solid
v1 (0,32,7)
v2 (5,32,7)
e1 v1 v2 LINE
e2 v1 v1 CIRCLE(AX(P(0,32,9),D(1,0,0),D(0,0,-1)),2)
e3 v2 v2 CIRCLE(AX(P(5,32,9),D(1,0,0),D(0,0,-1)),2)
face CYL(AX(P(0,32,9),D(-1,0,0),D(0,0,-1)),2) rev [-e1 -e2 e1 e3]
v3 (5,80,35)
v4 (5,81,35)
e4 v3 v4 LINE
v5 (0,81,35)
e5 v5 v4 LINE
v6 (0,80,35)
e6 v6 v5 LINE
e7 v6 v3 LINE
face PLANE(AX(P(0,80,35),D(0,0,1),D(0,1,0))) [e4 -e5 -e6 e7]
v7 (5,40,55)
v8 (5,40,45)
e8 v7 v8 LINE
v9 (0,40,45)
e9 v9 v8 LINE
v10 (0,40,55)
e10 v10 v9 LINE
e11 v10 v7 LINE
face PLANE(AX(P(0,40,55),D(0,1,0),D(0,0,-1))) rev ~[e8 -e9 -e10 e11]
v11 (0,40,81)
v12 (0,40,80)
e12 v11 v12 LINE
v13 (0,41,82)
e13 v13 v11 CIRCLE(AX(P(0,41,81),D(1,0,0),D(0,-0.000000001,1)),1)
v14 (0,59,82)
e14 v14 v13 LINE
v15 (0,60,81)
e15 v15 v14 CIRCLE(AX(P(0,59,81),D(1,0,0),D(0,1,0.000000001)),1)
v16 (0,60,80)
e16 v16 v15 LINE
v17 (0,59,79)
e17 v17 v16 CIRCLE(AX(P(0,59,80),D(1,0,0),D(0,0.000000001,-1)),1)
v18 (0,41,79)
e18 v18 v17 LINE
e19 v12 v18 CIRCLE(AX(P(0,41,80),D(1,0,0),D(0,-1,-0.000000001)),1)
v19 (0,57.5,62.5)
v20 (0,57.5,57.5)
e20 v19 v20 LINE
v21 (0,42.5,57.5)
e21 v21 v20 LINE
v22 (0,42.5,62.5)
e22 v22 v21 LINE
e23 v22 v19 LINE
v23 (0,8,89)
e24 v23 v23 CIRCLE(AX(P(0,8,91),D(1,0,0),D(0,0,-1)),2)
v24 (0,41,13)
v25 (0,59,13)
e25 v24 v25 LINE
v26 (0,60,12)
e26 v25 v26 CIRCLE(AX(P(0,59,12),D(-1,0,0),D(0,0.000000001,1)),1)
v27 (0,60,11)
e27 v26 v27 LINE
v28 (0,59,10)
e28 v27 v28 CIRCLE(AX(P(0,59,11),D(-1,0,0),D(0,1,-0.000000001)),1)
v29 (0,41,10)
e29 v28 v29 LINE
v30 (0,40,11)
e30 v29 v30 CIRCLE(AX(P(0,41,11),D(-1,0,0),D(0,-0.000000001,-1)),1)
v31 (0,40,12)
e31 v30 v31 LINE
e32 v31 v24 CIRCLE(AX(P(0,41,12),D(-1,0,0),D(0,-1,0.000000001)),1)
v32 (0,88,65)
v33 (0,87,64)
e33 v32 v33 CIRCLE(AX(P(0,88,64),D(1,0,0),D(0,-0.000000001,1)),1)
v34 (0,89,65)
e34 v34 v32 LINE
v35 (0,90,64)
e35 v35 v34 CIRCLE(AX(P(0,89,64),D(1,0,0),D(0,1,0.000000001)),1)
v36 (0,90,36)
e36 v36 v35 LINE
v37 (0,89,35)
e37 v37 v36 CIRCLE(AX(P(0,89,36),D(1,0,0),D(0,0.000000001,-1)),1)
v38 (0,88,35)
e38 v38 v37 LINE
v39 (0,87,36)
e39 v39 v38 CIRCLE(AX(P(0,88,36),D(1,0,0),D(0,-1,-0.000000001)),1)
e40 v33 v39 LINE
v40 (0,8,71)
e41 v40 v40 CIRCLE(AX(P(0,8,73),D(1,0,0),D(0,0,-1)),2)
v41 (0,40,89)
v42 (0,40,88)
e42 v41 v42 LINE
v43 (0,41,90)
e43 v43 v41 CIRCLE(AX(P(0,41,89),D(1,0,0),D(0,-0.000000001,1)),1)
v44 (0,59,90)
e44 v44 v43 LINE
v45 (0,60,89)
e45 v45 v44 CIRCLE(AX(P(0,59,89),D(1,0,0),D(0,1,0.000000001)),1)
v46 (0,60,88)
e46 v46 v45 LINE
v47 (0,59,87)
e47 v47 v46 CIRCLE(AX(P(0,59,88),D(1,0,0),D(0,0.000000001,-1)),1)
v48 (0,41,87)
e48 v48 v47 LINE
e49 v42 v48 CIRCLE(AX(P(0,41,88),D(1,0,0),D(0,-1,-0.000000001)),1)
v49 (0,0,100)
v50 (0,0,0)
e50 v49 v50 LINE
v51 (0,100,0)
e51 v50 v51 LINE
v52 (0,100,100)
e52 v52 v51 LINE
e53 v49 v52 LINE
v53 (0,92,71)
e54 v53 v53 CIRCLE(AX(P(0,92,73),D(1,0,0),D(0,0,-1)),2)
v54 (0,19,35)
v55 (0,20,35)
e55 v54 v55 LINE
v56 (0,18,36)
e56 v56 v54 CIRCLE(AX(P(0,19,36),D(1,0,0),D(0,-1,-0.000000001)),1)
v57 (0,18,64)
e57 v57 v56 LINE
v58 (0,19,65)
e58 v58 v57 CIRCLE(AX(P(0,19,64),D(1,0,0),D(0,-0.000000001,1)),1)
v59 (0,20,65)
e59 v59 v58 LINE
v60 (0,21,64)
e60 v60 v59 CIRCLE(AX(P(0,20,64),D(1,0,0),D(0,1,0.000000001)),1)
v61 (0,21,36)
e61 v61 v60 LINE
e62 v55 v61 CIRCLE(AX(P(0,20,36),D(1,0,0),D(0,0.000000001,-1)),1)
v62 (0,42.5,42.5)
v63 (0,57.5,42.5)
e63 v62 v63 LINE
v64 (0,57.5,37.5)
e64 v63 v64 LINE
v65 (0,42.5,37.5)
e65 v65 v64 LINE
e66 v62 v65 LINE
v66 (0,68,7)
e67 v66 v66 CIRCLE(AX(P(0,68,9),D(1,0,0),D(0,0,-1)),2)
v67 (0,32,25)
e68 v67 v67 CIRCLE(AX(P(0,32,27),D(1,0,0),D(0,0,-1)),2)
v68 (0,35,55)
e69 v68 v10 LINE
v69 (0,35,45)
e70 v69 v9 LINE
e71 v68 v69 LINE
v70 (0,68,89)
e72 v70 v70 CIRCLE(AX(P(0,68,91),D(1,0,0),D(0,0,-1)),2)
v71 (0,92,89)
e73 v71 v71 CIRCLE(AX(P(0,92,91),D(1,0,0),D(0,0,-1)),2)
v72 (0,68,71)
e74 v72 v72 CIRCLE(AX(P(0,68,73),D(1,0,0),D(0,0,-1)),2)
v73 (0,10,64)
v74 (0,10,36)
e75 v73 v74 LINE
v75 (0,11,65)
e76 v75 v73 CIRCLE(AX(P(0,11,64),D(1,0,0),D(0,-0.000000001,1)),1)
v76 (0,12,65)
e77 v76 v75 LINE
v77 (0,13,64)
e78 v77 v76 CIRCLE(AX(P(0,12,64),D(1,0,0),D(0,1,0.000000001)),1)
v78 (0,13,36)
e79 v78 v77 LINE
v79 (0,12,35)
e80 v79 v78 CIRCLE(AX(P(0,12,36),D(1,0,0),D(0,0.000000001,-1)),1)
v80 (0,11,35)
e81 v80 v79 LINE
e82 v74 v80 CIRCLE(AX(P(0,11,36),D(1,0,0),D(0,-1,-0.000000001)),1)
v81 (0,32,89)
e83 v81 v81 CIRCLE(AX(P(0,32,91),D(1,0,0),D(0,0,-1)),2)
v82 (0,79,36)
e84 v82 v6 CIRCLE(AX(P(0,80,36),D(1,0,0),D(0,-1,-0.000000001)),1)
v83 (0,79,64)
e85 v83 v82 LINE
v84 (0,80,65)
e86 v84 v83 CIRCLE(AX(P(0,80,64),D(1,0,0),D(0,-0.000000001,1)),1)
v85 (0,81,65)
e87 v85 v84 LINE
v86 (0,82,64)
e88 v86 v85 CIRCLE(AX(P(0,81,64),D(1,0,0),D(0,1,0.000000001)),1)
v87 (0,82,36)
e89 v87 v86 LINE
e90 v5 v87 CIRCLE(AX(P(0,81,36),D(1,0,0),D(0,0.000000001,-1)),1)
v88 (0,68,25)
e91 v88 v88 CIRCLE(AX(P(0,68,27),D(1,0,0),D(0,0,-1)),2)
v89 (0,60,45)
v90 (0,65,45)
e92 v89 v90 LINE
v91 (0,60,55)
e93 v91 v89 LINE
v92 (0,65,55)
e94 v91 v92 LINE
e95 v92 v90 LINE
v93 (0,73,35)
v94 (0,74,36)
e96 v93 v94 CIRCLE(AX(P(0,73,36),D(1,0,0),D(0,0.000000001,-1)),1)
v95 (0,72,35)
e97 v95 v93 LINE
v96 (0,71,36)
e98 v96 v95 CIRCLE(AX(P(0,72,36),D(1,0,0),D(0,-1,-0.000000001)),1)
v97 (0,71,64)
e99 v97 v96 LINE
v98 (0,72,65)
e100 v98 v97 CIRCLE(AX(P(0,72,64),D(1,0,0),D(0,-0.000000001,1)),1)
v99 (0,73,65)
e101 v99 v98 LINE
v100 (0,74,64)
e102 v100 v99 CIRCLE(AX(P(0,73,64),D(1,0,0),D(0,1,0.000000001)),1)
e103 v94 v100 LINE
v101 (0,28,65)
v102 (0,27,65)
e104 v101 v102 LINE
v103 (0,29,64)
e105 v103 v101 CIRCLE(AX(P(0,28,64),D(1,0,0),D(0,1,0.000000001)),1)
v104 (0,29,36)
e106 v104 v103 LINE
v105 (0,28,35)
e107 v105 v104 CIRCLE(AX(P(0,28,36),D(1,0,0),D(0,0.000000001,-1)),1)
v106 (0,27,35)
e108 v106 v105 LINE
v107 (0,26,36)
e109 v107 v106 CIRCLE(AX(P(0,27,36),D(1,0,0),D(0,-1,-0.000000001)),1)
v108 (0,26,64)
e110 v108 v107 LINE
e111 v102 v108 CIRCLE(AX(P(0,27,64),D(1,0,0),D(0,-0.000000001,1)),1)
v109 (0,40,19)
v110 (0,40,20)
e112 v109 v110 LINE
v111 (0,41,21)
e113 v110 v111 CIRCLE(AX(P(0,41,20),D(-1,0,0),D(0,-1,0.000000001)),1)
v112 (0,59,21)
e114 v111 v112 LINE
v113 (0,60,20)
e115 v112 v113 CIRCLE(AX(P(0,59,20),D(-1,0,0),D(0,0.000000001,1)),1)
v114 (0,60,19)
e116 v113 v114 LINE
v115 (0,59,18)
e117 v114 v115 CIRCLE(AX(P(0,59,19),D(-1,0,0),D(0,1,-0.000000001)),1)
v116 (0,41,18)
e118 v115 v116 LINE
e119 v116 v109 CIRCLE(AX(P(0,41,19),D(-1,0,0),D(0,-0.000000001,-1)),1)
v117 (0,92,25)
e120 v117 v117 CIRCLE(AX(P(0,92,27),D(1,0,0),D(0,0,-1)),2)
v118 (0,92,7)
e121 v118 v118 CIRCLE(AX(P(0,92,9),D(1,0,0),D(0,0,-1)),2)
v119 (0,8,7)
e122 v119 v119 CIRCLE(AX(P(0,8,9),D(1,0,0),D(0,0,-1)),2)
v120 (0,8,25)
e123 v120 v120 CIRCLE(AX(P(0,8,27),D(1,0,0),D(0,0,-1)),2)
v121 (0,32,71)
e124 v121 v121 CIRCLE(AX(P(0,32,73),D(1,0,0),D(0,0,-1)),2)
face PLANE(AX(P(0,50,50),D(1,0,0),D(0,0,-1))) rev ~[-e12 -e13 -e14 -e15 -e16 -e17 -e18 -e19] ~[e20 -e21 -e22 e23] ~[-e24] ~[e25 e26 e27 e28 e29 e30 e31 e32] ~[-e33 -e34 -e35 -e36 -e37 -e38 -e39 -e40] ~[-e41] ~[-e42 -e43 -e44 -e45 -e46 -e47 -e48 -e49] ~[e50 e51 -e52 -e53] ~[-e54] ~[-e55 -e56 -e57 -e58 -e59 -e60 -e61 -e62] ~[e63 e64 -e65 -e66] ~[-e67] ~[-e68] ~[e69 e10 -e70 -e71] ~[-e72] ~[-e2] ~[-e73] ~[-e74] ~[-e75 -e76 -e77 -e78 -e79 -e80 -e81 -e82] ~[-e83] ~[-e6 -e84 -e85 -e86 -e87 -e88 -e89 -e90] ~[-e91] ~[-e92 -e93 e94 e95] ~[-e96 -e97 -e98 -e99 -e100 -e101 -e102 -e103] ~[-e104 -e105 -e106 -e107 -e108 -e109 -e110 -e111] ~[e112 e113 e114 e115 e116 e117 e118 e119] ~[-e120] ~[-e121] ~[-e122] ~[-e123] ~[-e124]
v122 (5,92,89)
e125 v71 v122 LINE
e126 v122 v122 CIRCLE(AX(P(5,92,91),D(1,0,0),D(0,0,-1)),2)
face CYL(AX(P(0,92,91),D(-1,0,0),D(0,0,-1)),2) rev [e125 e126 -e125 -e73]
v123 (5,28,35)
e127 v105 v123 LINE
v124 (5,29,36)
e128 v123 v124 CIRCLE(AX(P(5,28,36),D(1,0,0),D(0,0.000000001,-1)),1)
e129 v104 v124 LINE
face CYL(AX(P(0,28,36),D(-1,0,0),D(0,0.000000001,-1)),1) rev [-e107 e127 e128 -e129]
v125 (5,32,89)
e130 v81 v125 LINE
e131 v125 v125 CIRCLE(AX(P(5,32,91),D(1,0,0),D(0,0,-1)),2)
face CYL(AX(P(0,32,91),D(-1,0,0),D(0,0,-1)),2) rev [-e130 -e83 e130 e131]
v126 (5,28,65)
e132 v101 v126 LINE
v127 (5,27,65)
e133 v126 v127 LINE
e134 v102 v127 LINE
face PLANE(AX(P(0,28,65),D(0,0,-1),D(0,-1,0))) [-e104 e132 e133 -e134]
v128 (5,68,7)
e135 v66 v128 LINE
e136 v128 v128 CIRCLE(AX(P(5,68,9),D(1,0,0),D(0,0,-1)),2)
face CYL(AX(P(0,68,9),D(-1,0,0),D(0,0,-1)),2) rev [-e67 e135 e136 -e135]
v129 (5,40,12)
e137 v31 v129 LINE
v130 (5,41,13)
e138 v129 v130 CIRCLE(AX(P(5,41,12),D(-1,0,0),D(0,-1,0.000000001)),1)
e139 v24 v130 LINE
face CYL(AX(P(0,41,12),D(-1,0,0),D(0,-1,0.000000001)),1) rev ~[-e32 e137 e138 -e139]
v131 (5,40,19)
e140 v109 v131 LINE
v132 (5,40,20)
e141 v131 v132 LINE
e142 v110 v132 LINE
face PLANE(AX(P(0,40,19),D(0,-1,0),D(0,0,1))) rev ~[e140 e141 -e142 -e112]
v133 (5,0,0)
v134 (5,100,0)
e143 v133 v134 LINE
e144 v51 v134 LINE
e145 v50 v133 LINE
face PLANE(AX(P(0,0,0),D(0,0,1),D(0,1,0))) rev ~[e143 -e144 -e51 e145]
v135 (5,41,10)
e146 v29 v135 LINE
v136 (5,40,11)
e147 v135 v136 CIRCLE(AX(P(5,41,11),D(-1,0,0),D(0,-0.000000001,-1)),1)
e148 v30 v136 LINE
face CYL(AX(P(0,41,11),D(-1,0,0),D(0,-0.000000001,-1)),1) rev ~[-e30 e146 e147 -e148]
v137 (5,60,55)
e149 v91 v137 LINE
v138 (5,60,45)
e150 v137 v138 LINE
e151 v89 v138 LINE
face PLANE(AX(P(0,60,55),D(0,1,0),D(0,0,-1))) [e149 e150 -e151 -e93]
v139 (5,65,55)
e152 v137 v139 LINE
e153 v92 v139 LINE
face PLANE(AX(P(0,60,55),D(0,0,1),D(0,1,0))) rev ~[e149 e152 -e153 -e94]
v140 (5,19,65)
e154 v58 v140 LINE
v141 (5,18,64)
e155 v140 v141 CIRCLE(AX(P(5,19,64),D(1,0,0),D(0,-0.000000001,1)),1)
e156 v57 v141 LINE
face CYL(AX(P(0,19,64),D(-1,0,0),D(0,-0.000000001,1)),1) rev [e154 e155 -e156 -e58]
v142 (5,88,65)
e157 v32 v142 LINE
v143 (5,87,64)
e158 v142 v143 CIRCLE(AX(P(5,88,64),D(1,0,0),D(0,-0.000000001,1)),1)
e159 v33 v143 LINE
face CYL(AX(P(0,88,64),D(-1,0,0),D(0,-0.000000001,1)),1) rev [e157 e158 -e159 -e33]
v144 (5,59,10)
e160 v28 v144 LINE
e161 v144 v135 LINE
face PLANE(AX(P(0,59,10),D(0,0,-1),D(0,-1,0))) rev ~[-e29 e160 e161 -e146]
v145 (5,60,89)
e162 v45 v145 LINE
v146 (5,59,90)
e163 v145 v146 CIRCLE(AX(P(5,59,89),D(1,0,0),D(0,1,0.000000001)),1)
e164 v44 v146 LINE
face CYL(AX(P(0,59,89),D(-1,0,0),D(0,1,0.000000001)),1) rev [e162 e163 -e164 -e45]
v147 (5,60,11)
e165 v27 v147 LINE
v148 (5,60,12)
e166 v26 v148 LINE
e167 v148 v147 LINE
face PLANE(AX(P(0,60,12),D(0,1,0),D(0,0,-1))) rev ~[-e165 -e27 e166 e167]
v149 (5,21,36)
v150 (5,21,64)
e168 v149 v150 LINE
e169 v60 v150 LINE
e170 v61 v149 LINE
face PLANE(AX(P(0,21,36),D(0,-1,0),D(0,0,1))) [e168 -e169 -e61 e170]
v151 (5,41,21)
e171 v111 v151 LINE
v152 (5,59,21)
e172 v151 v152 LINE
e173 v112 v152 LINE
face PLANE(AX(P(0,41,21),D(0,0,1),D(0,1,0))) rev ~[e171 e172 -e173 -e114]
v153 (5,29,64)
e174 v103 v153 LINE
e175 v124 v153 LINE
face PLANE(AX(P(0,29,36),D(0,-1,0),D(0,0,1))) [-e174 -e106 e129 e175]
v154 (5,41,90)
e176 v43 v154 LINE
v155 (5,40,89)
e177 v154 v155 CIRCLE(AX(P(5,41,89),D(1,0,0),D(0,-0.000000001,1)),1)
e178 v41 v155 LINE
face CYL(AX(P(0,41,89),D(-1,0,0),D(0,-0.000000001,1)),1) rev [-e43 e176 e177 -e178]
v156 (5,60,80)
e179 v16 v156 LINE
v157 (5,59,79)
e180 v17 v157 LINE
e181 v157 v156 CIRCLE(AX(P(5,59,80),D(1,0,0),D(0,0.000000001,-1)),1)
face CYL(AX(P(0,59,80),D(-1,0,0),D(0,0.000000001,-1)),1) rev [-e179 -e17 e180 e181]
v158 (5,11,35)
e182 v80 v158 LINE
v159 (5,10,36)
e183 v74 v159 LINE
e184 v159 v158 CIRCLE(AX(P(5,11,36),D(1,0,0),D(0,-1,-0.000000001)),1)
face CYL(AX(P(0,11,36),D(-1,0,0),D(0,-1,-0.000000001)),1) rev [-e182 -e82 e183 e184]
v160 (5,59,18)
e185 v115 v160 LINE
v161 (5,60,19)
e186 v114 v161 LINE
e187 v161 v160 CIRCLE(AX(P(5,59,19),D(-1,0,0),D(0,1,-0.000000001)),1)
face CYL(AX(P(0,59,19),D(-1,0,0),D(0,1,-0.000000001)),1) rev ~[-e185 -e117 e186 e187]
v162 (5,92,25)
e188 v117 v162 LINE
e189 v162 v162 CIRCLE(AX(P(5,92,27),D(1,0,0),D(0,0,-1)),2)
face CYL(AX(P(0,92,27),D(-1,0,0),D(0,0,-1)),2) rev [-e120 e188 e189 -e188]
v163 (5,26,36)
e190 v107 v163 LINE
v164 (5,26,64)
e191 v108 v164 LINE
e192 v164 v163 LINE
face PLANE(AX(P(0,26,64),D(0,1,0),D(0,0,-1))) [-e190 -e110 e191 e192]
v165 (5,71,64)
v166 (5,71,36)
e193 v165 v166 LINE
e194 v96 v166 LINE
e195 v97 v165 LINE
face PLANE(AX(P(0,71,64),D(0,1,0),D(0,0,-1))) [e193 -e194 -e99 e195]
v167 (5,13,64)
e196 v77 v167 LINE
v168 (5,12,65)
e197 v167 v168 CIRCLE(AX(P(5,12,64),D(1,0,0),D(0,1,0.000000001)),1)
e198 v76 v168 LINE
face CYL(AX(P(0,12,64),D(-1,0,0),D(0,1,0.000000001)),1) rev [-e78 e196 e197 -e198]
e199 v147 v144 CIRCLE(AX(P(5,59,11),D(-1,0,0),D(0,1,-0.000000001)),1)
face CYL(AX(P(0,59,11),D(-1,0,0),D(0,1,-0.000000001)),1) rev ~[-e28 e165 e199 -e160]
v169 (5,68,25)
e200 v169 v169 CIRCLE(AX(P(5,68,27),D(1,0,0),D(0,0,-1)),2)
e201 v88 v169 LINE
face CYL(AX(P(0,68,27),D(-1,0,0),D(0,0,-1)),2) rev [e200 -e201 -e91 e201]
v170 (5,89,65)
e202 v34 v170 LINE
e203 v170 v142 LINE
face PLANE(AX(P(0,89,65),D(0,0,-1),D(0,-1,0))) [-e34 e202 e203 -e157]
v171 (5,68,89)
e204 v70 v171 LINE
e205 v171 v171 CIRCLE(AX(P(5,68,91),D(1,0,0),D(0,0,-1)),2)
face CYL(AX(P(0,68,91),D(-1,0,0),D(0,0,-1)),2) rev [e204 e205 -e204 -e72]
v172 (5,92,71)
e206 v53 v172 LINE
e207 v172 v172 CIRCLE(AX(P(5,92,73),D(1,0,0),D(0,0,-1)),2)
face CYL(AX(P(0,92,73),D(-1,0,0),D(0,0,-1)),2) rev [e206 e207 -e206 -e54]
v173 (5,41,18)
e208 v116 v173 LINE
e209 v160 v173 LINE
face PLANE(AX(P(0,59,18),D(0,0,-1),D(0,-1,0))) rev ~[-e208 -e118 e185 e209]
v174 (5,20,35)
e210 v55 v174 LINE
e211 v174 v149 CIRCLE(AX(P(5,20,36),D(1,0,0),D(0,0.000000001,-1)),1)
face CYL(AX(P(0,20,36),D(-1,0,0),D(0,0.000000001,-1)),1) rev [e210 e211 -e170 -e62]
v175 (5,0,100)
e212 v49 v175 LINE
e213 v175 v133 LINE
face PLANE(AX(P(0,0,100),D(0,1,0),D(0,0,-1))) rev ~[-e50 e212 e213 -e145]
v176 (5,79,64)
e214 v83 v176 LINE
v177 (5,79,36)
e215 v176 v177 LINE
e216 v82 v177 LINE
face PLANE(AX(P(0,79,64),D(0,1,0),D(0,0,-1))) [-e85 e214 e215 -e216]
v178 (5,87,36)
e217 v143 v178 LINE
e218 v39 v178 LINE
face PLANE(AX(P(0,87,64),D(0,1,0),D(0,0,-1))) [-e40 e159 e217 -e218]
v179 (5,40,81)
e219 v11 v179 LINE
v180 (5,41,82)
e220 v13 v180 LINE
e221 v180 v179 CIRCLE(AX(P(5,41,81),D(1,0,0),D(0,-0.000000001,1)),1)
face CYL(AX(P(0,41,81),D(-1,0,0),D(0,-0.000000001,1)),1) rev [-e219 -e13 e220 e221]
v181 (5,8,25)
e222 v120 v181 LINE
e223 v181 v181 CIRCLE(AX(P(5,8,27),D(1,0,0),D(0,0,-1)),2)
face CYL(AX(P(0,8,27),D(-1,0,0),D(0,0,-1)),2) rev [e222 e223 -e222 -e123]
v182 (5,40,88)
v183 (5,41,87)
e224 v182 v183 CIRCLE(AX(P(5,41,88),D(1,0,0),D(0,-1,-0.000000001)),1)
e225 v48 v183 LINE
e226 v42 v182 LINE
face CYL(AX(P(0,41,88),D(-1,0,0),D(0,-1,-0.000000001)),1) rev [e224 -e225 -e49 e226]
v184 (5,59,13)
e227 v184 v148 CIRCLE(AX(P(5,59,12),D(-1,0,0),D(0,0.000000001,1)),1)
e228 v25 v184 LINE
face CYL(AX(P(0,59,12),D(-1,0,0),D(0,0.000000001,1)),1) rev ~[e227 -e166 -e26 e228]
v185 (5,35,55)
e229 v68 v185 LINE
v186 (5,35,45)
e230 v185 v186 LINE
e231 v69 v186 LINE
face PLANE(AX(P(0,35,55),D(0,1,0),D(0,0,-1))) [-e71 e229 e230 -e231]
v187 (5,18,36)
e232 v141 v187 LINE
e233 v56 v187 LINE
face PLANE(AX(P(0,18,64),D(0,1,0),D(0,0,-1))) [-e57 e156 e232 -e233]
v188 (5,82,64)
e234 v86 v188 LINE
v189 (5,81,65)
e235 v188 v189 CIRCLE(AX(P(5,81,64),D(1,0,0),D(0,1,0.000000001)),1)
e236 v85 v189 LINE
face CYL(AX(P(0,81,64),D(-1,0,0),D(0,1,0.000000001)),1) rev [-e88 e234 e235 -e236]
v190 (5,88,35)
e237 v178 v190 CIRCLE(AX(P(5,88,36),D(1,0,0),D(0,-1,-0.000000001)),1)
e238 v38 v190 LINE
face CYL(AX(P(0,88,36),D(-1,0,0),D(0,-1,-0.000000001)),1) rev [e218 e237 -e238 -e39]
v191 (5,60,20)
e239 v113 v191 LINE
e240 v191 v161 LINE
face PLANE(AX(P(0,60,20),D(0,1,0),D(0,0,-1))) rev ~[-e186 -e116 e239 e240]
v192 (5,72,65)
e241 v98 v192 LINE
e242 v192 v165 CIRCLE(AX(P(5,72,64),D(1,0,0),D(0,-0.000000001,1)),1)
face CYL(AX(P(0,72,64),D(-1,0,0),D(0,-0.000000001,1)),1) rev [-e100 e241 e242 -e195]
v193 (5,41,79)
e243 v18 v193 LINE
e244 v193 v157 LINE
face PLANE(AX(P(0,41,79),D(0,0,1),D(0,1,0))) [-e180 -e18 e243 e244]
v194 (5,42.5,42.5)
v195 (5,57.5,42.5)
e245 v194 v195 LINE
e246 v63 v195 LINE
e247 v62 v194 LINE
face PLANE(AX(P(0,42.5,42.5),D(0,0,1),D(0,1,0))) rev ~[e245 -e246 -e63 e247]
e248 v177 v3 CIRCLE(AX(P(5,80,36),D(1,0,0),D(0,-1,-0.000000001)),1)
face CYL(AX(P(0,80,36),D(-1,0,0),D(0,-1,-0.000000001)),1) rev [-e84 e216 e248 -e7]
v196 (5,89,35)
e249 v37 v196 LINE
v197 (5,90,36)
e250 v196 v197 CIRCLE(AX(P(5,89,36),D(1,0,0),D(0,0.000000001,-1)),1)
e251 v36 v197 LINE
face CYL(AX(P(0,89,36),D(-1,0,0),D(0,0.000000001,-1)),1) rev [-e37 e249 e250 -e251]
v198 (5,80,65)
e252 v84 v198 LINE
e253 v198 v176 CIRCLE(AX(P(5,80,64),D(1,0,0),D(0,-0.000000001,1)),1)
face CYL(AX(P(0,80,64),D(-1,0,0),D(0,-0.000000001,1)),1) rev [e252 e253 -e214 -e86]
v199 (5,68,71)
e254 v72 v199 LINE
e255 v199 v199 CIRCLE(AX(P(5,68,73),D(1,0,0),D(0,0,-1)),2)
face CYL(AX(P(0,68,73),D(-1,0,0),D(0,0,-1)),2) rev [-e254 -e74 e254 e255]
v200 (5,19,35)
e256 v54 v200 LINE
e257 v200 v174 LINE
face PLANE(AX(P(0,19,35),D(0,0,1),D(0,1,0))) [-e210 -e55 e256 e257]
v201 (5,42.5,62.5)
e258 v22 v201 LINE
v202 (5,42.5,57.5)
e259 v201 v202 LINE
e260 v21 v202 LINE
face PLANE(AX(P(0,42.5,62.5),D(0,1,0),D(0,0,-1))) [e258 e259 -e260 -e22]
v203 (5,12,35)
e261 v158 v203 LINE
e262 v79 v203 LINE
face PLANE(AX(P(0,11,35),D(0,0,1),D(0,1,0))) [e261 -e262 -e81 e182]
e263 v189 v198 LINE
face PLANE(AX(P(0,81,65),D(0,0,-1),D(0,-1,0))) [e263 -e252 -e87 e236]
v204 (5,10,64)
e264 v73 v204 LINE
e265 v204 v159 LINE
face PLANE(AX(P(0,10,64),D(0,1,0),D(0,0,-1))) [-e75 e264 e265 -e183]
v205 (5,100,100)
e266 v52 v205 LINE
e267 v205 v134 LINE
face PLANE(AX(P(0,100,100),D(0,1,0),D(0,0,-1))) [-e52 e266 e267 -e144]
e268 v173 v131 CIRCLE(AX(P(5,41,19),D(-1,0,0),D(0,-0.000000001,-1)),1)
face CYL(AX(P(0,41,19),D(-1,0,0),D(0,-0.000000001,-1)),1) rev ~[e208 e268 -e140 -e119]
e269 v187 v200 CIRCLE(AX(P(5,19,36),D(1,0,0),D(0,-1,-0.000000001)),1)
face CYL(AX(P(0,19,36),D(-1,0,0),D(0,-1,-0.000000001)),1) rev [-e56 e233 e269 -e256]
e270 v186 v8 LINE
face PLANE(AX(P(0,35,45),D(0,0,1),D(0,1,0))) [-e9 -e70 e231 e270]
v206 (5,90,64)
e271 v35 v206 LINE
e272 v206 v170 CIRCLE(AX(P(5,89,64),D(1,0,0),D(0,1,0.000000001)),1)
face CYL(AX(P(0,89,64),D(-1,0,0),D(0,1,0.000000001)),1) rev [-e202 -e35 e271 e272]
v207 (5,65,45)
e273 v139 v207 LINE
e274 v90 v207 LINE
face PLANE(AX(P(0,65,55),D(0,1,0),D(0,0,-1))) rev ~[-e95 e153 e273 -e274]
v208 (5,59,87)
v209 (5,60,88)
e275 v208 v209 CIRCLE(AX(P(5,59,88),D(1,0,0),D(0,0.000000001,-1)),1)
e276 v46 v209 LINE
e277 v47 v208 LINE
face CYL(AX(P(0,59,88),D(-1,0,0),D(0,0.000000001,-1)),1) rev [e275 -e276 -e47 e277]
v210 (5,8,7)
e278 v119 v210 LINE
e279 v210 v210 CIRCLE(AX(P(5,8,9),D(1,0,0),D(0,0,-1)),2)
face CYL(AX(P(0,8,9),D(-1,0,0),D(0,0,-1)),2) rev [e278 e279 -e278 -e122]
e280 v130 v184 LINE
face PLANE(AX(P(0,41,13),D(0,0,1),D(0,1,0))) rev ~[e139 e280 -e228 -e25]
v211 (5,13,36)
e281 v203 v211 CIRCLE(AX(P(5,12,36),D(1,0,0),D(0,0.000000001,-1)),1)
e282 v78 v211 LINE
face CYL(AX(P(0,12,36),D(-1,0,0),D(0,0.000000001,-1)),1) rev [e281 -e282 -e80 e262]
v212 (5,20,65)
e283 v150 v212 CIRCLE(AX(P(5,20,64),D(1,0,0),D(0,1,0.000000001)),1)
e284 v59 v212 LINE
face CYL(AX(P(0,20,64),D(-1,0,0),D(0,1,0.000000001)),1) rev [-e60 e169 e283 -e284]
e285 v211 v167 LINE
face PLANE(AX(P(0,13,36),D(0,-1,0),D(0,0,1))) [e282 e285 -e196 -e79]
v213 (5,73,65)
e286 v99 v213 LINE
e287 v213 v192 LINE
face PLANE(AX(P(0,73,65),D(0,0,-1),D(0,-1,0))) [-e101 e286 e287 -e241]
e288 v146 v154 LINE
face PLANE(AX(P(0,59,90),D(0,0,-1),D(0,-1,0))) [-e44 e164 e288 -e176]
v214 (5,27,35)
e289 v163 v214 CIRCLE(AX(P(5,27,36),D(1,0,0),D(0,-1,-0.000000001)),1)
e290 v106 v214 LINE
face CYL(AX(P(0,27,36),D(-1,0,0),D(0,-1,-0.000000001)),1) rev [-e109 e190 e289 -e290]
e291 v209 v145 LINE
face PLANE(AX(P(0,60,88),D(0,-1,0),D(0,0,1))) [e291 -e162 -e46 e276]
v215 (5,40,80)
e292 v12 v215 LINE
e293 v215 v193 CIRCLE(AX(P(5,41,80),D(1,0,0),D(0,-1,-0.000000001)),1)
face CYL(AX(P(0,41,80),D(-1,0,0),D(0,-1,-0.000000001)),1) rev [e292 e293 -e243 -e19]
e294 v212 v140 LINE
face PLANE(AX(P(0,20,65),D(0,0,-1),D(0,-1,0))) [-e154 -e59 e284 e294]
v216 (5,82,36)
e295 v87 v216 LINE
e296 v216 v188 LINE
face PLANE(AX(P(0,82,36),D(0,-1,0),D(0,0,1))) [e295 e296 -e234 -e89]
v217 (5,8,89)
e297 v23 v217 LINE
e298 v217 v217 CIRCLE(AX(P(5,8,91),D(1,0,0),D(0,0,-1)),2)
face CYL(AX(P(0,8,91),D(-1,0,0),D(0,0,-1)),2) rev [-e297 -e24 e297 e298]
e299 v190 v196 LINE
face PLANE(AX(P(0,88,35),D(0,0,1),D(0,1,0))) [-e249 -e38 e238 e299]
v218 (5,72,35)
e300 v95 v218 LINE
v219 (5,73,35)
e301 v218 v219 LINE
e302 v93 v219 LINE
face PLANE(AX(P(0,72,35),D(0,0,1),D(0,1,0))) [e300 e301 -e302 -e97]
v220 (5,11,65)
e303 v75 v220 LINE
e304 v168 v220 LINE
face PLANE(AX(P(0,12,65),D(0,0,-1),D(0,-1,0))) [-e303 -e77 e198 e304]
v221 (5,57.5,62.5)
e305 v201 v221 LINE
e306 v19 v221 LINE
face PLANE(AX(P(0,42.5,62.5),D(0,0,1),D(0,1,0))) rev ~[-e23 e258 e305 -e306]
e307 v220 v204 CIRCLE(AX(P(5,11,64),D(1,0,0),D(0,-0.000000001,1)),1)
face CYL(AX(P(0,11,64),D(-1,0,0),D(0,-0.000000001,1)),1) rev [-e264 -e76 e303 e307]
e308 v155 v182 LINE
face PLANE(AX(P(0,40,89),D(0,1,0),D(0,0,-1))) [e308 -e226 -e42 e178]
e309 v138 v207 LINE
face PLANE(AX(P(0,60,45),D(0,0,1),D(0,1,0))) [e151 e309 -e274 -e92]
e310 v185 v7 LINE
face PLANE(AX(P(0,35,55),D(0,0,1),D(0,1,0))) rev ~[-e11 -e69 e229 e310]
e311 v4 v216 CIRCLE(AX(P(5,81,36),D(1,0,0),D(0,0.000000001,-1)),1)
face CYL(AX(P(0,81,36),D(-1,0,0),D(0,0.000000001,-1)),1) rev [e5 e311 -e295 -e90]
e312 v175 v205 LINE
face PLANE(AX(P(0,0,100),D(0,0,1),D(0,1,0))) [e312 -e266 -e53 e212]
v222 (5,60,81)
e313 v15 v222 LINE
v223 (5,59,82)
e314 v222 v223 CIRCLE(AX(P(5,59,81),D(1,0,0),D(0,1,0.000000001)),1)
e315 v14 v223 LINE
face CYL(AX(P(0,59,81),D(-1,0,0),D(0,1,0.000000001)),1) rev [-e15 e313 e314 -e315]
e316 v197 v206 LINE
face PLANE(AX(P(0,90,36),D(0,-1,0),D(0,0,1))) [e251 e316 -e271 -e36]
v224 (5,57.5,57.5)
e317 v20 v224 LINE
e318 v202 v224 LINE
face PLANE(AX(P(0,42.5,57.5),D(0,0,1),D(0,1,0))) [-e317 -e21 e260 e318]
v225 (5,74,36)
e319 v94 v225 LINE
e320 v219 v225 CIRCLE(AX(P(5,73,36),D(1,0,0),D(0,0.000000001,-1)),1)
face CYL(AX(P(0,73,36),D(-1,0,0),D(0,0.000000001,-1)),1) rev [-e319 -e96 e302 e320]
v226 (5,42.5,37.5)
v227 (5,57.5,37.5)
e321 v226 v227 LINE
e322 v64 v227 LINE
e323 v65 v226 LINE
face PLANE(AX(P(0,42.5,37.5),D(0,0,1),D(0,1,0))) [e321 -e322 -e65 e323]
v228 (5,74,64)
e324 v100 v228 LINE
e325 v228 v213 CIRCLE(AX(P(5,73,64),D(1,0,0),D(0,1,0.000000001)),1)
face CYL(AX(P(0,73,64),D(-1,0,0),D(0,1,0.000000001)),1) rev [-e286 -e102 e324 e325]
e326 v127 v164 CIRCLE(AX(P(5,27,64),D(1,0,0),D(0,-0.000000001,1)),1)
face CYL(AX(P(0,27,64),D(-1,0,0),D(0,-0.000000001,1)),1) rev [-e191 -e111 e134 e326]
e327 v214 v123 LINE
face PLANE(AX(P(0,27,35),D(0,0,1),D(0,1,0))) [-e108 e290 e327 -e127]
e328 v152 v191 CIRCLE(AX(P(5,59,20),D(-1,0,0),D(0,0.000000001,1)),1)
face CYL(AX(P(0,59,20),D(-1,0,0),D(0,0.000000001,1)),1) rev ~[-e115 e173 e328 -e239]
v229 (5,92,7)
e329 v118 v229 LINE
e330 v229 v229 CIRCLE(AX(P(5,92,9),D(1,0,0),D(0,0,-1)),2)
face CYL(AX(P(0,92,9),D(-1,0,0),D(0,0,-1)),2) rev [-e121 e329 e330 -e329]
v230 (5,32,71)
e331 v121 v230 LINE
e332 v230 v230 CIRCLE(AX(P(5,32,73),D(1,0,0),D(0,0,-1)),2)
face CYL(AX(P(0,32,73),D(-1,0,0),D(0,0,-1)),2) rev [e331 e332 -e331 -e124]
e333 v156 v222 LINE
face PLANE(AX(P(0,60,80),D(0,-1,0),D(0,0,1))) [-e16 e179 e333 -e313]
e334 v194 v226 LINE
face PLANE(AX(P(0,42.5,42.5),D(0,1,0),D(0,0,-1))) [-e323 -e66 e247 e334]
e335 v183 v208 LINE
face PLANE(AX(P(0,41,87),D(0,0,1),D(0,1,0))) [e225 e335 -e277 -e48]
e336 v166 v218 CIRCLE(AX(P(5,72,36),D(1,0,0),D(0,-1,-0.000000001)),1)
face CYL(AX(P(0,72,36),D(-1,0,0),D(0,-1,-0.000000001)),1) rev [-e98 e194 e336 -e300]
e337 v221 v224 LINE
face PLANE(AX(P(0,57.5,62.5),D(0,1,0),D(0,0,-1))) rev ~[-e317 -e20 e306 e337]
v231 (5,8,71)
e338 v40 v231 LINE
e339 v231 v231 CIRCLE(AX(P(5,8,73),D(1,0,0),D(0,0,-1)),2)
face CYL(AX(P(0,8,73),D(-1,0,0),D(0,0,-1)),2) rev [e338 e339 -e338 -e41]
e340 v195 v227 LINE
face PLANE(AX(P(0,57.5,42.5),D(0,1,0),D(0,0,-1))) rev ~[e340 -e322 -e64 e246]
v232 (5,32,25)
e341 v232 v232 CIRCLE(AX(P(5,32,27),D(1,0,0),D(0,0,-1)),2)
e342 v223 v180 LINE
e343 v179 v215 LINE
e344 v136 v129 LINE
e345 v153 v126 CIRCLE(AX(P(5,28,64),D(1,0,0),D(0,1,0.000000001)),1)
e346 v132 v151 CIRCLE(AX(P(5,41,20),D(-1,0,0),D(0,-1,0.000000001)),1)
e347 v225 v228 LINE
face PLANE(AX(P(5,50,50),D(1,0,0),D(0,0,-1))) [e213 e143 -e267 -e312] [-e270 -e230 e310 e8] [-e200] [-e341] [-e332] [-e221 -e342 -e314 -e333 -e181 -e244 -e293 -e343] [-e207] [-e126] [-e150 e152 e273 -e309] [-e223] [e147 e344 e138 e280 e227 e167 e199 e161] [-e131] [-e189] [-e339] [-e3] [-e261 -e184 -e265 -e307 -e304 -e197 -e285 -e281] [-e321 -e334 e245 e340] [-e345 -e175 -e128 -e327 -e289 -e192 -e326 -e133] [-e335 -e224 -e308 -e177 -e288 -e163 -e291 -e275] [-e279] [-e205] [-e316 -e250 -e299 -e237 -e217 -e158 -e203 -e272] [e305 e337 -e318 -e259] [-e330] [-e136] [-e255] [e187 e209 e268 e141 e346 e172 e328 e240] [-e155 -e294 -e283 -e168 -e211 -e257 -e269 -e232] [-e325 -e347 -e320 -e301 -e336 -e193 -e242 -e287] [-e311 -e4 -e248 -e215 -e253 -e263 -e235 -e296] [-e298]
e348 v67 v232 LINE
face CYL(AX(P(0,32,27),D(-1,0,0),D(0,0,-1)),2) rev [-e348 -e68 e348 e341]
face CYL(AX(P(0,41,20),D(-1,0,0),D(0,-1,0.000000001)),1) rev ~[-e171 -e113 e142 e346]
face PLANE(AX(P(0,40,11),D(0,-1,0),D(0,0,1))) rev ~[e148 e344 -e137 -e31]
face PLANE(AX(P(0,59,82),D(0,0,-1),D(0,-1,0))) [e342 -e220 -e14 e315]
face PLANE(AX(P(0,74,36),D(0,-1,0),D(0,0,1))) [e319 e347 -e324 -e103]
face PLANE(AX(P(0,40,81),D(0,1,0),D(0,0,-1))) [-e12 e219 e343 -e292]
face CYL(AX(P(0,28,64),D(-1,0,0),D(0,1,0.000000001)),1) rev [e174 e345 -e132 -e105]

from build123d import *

# Parameters (mm, degrees)
SKETCH_1_W      = 100
SKETCH_1_H      = 100
SKETCH_1_R      = 2
SKETCH_1_W_2    = 5
SKETCH_1_H_2    = 15
SKETCH_1_W_3    = 10
SKETCH_1_H_3    = 5
EXTRUDE_1_DEPTH = 5


with BuildPart() as part:
    # 草图1 → 凸台-拉伸1 (new body)
    with BuildSketch(Plane(origin=(0, 0, 0), x_dir=(0, 0, -1), z_dir=(1, 0, 0))):
        with Locations((-50, 50)):
            Rectangle(SKETCH_1_W, SKETCH_1_H)
        with Locations((-91, 92)):
            Circle(SKETCH_1_R, mode=Mode.SUBTRACT)
        with Locations((-27, 92)):
            Circle(SKETCH_1_R, mode=Mode.SUBTRACT)
        with Locations((-91, 8)):
            Circle(SKETCH_1_R, mode=Mode.SUBTRACT)
        with Locations((-27, 8)):
            Circle(SKETCH_1_R, mode=Mode.SUBTRACT)
        with Locations((-73, 92)):
            Circle(SKETCH_1_R, mode=Mode.SUBTRACT)
        with Locations((-73, 68)):
            Circle(SKETCH_1_R, mode=Mode.SUBTRACT)
        with Locations((-91, 68)):
            Circle(SKETCH_1_R, mode=Mode.SUBTRACT)
        with Locations((-9, 92)):
            Circle(SKETCH_1_R, mode=Mode.SUBTRACT)
        with Locations((-9, 68)):
            Circle(SKETCH_1_R, mode=Mode.SUBTRACT)
        with Locations((-27, 68)):
            Circle(SKETCH_1_R, mode=Mode.SUBTRACT)
        with Locations((-73, 8)):
            Circle(SKETCH_1_R, mode=Mode.SUBTRACT)
        with Locations((-73, 32)):
            Circle(SKETCH_1_R, mode=Mode.SUBTRACT)
        with Locations((-91, 32)):
            Circle(SKETCH_1_R, mode=Mode.SUBTRACT)
        with Locations((-9, 8)):
            Circle(SKETCH_1_R, mode=Mode.SUBTRACT)
        with Locations((-9, 32)):
            Circle(SKETCH_1_R, mode=Mode.SUBTRACT)
        with Locations((-27, 32)):
            Circle(SKETCH_1_R, mode=Mode.SUBTRACT)
        with Locations((-60, 50)):
            Rectangle(SKETCH_1_W_2, SKETCH_1_H_2, mode=Mode.SUBTRACT)
        with Locations((-40, 50)):
            Rectangle(SKETCH_1_W_2, SKETCH_1_H_2, mode=Mode.SUBTRACT)
        with Locations((-50, 37.5)):
            Rectangle(SKETCH_1_W_3, SKETCH_1_H_3, mode=Mode.SUBTRACT)
        with Locations((-50, 62.5)):
            Rectangle(SKETCH_1_W_3, SKETCH_1_H_3, mode=Mode.SUBTRACT)
        with BuildLine():
            Line((-36, 74), (-64, 74))
            ThreePointArc((-64, 74), (-64.707106781, 73.707106781), (-65, 73))
            Line((-65, 73), (-65, 72))
            ThreePointArc((-65, 72), (-64.707106781, 71.292893219), (-64, 71))
            Line((-64, 71), (-36, 71))
            ThreePointArc((-36, 71), (-35.292893219, 71.292893219), (-35, 72))
            Line((-35, 72), (-35, 73))
            ThreePointArc((-35, 73), (-35.292893219, 73.707106781), (-36, 74))
        make_face(mode=Mode.SUBTRACT)
        with BuildLine():
            Line((-36, 82), (-64, 82))
            ThreePointArc((-64, 82), (-64.707106781, 81.707106781), (-65, 81))
            Line((-65, 81), (-65, 80))
            ThreePointArc((-65, 80), (-64.707106781, 79.292893219), (-64, 79))
            Line((-64, 79), (-36, 79))
            ThreePointArc((-36, 79), (-35.292893219, 79.292893219), (-35, 80))
            Line((-35, 80), (-35, 81))
            ThreePointArc((-35, 81), (-35.292893219, 81.707106781), (-36, 82))
        make_face(mode=Mode.SUBTRACT)
        with BuildLine():
            Line((-36, 90), (-64, 90))
            ThreePointArc((-64, 90), (-64.707106781, 89.707106781), (-65, 89))
            Line((-65, 89), (-65, 88))
            ThreePointArc((-65, 88), (-64.707106781, 87.292893219), (-64, 87))
            Line((-64, 87), (-36, 87))
            ThreePointArc((-36, 87), (-35.292893219, 87.292893219), (-35, 88))
            Line((-35, 88), (-35, 89))
            ThreePointArc((-35, 89), (-35.292893219, 89.707106781), (-36, 90))
        make_face(mode=Mode.SUBTRACT)
        with BuildLine():
            Line((-36, 29), (-64, 29))
            ThreePointArc((-64, 29), (-64.707106781, 28.707106781), (-65, 28))
            Line((-65, 28), (-65, 27))
            ThreePointArc((-65, 27), (-64.707106781, 26.292893219), (-64, 26))
            Line((-64, 26), (-36, 26))
            ThreePointArc((-36, 26), (-35.292893219, 26.292893219), (-35, 27))
            Line((-35, 27), (-35, 28))
            ThreePointArc((-35, 28), (-35.292893219, 28.707106781), (-36, 29))
        make_face(mode=Mode.SUBTRACT)
        with BuildLine():
            Line((-36, 21), (-64, 21))
            ThreePointArc((-64, 21), (-64.707106781, 20.707106781), (-65, 20))
            Line((-65, 20), (-65, 19))
            ThreePointArc((-65, 19), (-64.707106781, 18.292893219), (-64, 18))
            Line((-64, 18), (-36, 18))
            ThreePointArc((-36, 18), (-35.292893219, 18.292893219), (-35, 19))
            Line((-35, 19), (-35, 20))
            ThreePointArc((-35, 20), (-35.292893219, 20.707106781), (-36, 21))
        make_face(mode=Mode.SUBTRACT)
        with BuildLine():
            Line((-36, 13), (-64, 13))
            ThreePointArc((-64, 13), (-64.707106781, 12.707106781), (-65, 12))
            Line((-65, 12), (-65, 11))
            ThreePointArc((-65, 11), (-64.707106781, 10.292893219), (-64, 10))
            Line((-64, 10), (-36, 10))
            ThreePointArc((-36, 10), (-35.292893219, 10.292893219), (-35, 11))
            Line((-35, 11), (-35, 12))
            ThreePointArc((-35, 12), (-35.292893219, 12.707106781), (-36, 13))
        make_face(mode=Mode.SUBTRACT)
        with BuildLine():
            Line((-20, 60), (-19, 60))
            ThreePointArc((-19, 60), (-18.292893219, 59.707106781), (-18, 59))
            Line((-18, 59), (-18, 41))
            ThreePointArc((-18, 41), (-18.292893219, 40.292893219), (-19, 40))
            Line((-19, 40), (-20, 40))
            ThreePointArc((-20, 40), (-20.707106781, 40.292893219), (-21, 41))
            Line((-21, 41), (-21, 59))
            ThreePointArc((-21, 59), (-20.707106781, 59.707106781), (-20, 60))
        make_face(mode=Mode.SUBTRACT)
        with BuildLine():
            Line((-12, 60), (-11, 60))
            ThreePointArc((-11, 60), (-10.292893219, 59.707106781), (-10, 59))
            Line((-10, 59), (-10, 41))
            ThreePointArc((-10, 41), (-10.292893219, 40.292893219), (-11, 40))
            Line((-11, 40), (-12, 40))
            ThreePointArc((-12, 40), (-12.707106781, 40.292893219), (-13, 41))
            Line((-13, 41), (-13, 59))
            ThreePointArc((-13, 59), (-12.707106781, 59.707106781), (-12, 60))
        make_face(mode=Mode.SUBTRACT)
        with BuildLine():
            Line((-80, 60), (-81, 60))
            ThreePointArc((-81, 60), (-81.707106781, 59.707106781), (-82, 59))
            Line((-82, 59), (-82, 41))
            ThreePointArc((-82, 41), (-81.707106781, 40.292893219), (-81, 40))
            Line((-81, 40), (-80, 40))
            ThreePointArc((-80, 40), (-79.292893219, 40.292893219), (-79, 41))
            Line((-79, 41), (-79, 59))
            ThreePointArc((-79, 59), (-79.292893219, 59.707106781), (-80, 60))
        make_face(mode=Mode.SUBTRACT)
        with BuildLine():
            Line((-88, 60), (-89, 60))
            ThreePointArc((-89, 60), (-89.707106781, 59.707106781), (-90, 59))
            Line((-90, 59), (-90, 41))
            ThreePointArc((-90, 41), (-89.707106781, 40.292893219), (-89, 40))
            Line((-89, 40), (-88, 40))
            ThreePointArc((-88, 40), (-87.292893219, 40.292893219), (-87, 41))
            Line((-87, 41), (-87, 59))
            ThreePointArc((-87, 59), (-87.292893219, 59.707106781), (-88, 60))
        make_face(mode=Mode.SUBTRACT)
    extrude(amount=EXTRUDE_1_DEPTH)


solid = part.part
